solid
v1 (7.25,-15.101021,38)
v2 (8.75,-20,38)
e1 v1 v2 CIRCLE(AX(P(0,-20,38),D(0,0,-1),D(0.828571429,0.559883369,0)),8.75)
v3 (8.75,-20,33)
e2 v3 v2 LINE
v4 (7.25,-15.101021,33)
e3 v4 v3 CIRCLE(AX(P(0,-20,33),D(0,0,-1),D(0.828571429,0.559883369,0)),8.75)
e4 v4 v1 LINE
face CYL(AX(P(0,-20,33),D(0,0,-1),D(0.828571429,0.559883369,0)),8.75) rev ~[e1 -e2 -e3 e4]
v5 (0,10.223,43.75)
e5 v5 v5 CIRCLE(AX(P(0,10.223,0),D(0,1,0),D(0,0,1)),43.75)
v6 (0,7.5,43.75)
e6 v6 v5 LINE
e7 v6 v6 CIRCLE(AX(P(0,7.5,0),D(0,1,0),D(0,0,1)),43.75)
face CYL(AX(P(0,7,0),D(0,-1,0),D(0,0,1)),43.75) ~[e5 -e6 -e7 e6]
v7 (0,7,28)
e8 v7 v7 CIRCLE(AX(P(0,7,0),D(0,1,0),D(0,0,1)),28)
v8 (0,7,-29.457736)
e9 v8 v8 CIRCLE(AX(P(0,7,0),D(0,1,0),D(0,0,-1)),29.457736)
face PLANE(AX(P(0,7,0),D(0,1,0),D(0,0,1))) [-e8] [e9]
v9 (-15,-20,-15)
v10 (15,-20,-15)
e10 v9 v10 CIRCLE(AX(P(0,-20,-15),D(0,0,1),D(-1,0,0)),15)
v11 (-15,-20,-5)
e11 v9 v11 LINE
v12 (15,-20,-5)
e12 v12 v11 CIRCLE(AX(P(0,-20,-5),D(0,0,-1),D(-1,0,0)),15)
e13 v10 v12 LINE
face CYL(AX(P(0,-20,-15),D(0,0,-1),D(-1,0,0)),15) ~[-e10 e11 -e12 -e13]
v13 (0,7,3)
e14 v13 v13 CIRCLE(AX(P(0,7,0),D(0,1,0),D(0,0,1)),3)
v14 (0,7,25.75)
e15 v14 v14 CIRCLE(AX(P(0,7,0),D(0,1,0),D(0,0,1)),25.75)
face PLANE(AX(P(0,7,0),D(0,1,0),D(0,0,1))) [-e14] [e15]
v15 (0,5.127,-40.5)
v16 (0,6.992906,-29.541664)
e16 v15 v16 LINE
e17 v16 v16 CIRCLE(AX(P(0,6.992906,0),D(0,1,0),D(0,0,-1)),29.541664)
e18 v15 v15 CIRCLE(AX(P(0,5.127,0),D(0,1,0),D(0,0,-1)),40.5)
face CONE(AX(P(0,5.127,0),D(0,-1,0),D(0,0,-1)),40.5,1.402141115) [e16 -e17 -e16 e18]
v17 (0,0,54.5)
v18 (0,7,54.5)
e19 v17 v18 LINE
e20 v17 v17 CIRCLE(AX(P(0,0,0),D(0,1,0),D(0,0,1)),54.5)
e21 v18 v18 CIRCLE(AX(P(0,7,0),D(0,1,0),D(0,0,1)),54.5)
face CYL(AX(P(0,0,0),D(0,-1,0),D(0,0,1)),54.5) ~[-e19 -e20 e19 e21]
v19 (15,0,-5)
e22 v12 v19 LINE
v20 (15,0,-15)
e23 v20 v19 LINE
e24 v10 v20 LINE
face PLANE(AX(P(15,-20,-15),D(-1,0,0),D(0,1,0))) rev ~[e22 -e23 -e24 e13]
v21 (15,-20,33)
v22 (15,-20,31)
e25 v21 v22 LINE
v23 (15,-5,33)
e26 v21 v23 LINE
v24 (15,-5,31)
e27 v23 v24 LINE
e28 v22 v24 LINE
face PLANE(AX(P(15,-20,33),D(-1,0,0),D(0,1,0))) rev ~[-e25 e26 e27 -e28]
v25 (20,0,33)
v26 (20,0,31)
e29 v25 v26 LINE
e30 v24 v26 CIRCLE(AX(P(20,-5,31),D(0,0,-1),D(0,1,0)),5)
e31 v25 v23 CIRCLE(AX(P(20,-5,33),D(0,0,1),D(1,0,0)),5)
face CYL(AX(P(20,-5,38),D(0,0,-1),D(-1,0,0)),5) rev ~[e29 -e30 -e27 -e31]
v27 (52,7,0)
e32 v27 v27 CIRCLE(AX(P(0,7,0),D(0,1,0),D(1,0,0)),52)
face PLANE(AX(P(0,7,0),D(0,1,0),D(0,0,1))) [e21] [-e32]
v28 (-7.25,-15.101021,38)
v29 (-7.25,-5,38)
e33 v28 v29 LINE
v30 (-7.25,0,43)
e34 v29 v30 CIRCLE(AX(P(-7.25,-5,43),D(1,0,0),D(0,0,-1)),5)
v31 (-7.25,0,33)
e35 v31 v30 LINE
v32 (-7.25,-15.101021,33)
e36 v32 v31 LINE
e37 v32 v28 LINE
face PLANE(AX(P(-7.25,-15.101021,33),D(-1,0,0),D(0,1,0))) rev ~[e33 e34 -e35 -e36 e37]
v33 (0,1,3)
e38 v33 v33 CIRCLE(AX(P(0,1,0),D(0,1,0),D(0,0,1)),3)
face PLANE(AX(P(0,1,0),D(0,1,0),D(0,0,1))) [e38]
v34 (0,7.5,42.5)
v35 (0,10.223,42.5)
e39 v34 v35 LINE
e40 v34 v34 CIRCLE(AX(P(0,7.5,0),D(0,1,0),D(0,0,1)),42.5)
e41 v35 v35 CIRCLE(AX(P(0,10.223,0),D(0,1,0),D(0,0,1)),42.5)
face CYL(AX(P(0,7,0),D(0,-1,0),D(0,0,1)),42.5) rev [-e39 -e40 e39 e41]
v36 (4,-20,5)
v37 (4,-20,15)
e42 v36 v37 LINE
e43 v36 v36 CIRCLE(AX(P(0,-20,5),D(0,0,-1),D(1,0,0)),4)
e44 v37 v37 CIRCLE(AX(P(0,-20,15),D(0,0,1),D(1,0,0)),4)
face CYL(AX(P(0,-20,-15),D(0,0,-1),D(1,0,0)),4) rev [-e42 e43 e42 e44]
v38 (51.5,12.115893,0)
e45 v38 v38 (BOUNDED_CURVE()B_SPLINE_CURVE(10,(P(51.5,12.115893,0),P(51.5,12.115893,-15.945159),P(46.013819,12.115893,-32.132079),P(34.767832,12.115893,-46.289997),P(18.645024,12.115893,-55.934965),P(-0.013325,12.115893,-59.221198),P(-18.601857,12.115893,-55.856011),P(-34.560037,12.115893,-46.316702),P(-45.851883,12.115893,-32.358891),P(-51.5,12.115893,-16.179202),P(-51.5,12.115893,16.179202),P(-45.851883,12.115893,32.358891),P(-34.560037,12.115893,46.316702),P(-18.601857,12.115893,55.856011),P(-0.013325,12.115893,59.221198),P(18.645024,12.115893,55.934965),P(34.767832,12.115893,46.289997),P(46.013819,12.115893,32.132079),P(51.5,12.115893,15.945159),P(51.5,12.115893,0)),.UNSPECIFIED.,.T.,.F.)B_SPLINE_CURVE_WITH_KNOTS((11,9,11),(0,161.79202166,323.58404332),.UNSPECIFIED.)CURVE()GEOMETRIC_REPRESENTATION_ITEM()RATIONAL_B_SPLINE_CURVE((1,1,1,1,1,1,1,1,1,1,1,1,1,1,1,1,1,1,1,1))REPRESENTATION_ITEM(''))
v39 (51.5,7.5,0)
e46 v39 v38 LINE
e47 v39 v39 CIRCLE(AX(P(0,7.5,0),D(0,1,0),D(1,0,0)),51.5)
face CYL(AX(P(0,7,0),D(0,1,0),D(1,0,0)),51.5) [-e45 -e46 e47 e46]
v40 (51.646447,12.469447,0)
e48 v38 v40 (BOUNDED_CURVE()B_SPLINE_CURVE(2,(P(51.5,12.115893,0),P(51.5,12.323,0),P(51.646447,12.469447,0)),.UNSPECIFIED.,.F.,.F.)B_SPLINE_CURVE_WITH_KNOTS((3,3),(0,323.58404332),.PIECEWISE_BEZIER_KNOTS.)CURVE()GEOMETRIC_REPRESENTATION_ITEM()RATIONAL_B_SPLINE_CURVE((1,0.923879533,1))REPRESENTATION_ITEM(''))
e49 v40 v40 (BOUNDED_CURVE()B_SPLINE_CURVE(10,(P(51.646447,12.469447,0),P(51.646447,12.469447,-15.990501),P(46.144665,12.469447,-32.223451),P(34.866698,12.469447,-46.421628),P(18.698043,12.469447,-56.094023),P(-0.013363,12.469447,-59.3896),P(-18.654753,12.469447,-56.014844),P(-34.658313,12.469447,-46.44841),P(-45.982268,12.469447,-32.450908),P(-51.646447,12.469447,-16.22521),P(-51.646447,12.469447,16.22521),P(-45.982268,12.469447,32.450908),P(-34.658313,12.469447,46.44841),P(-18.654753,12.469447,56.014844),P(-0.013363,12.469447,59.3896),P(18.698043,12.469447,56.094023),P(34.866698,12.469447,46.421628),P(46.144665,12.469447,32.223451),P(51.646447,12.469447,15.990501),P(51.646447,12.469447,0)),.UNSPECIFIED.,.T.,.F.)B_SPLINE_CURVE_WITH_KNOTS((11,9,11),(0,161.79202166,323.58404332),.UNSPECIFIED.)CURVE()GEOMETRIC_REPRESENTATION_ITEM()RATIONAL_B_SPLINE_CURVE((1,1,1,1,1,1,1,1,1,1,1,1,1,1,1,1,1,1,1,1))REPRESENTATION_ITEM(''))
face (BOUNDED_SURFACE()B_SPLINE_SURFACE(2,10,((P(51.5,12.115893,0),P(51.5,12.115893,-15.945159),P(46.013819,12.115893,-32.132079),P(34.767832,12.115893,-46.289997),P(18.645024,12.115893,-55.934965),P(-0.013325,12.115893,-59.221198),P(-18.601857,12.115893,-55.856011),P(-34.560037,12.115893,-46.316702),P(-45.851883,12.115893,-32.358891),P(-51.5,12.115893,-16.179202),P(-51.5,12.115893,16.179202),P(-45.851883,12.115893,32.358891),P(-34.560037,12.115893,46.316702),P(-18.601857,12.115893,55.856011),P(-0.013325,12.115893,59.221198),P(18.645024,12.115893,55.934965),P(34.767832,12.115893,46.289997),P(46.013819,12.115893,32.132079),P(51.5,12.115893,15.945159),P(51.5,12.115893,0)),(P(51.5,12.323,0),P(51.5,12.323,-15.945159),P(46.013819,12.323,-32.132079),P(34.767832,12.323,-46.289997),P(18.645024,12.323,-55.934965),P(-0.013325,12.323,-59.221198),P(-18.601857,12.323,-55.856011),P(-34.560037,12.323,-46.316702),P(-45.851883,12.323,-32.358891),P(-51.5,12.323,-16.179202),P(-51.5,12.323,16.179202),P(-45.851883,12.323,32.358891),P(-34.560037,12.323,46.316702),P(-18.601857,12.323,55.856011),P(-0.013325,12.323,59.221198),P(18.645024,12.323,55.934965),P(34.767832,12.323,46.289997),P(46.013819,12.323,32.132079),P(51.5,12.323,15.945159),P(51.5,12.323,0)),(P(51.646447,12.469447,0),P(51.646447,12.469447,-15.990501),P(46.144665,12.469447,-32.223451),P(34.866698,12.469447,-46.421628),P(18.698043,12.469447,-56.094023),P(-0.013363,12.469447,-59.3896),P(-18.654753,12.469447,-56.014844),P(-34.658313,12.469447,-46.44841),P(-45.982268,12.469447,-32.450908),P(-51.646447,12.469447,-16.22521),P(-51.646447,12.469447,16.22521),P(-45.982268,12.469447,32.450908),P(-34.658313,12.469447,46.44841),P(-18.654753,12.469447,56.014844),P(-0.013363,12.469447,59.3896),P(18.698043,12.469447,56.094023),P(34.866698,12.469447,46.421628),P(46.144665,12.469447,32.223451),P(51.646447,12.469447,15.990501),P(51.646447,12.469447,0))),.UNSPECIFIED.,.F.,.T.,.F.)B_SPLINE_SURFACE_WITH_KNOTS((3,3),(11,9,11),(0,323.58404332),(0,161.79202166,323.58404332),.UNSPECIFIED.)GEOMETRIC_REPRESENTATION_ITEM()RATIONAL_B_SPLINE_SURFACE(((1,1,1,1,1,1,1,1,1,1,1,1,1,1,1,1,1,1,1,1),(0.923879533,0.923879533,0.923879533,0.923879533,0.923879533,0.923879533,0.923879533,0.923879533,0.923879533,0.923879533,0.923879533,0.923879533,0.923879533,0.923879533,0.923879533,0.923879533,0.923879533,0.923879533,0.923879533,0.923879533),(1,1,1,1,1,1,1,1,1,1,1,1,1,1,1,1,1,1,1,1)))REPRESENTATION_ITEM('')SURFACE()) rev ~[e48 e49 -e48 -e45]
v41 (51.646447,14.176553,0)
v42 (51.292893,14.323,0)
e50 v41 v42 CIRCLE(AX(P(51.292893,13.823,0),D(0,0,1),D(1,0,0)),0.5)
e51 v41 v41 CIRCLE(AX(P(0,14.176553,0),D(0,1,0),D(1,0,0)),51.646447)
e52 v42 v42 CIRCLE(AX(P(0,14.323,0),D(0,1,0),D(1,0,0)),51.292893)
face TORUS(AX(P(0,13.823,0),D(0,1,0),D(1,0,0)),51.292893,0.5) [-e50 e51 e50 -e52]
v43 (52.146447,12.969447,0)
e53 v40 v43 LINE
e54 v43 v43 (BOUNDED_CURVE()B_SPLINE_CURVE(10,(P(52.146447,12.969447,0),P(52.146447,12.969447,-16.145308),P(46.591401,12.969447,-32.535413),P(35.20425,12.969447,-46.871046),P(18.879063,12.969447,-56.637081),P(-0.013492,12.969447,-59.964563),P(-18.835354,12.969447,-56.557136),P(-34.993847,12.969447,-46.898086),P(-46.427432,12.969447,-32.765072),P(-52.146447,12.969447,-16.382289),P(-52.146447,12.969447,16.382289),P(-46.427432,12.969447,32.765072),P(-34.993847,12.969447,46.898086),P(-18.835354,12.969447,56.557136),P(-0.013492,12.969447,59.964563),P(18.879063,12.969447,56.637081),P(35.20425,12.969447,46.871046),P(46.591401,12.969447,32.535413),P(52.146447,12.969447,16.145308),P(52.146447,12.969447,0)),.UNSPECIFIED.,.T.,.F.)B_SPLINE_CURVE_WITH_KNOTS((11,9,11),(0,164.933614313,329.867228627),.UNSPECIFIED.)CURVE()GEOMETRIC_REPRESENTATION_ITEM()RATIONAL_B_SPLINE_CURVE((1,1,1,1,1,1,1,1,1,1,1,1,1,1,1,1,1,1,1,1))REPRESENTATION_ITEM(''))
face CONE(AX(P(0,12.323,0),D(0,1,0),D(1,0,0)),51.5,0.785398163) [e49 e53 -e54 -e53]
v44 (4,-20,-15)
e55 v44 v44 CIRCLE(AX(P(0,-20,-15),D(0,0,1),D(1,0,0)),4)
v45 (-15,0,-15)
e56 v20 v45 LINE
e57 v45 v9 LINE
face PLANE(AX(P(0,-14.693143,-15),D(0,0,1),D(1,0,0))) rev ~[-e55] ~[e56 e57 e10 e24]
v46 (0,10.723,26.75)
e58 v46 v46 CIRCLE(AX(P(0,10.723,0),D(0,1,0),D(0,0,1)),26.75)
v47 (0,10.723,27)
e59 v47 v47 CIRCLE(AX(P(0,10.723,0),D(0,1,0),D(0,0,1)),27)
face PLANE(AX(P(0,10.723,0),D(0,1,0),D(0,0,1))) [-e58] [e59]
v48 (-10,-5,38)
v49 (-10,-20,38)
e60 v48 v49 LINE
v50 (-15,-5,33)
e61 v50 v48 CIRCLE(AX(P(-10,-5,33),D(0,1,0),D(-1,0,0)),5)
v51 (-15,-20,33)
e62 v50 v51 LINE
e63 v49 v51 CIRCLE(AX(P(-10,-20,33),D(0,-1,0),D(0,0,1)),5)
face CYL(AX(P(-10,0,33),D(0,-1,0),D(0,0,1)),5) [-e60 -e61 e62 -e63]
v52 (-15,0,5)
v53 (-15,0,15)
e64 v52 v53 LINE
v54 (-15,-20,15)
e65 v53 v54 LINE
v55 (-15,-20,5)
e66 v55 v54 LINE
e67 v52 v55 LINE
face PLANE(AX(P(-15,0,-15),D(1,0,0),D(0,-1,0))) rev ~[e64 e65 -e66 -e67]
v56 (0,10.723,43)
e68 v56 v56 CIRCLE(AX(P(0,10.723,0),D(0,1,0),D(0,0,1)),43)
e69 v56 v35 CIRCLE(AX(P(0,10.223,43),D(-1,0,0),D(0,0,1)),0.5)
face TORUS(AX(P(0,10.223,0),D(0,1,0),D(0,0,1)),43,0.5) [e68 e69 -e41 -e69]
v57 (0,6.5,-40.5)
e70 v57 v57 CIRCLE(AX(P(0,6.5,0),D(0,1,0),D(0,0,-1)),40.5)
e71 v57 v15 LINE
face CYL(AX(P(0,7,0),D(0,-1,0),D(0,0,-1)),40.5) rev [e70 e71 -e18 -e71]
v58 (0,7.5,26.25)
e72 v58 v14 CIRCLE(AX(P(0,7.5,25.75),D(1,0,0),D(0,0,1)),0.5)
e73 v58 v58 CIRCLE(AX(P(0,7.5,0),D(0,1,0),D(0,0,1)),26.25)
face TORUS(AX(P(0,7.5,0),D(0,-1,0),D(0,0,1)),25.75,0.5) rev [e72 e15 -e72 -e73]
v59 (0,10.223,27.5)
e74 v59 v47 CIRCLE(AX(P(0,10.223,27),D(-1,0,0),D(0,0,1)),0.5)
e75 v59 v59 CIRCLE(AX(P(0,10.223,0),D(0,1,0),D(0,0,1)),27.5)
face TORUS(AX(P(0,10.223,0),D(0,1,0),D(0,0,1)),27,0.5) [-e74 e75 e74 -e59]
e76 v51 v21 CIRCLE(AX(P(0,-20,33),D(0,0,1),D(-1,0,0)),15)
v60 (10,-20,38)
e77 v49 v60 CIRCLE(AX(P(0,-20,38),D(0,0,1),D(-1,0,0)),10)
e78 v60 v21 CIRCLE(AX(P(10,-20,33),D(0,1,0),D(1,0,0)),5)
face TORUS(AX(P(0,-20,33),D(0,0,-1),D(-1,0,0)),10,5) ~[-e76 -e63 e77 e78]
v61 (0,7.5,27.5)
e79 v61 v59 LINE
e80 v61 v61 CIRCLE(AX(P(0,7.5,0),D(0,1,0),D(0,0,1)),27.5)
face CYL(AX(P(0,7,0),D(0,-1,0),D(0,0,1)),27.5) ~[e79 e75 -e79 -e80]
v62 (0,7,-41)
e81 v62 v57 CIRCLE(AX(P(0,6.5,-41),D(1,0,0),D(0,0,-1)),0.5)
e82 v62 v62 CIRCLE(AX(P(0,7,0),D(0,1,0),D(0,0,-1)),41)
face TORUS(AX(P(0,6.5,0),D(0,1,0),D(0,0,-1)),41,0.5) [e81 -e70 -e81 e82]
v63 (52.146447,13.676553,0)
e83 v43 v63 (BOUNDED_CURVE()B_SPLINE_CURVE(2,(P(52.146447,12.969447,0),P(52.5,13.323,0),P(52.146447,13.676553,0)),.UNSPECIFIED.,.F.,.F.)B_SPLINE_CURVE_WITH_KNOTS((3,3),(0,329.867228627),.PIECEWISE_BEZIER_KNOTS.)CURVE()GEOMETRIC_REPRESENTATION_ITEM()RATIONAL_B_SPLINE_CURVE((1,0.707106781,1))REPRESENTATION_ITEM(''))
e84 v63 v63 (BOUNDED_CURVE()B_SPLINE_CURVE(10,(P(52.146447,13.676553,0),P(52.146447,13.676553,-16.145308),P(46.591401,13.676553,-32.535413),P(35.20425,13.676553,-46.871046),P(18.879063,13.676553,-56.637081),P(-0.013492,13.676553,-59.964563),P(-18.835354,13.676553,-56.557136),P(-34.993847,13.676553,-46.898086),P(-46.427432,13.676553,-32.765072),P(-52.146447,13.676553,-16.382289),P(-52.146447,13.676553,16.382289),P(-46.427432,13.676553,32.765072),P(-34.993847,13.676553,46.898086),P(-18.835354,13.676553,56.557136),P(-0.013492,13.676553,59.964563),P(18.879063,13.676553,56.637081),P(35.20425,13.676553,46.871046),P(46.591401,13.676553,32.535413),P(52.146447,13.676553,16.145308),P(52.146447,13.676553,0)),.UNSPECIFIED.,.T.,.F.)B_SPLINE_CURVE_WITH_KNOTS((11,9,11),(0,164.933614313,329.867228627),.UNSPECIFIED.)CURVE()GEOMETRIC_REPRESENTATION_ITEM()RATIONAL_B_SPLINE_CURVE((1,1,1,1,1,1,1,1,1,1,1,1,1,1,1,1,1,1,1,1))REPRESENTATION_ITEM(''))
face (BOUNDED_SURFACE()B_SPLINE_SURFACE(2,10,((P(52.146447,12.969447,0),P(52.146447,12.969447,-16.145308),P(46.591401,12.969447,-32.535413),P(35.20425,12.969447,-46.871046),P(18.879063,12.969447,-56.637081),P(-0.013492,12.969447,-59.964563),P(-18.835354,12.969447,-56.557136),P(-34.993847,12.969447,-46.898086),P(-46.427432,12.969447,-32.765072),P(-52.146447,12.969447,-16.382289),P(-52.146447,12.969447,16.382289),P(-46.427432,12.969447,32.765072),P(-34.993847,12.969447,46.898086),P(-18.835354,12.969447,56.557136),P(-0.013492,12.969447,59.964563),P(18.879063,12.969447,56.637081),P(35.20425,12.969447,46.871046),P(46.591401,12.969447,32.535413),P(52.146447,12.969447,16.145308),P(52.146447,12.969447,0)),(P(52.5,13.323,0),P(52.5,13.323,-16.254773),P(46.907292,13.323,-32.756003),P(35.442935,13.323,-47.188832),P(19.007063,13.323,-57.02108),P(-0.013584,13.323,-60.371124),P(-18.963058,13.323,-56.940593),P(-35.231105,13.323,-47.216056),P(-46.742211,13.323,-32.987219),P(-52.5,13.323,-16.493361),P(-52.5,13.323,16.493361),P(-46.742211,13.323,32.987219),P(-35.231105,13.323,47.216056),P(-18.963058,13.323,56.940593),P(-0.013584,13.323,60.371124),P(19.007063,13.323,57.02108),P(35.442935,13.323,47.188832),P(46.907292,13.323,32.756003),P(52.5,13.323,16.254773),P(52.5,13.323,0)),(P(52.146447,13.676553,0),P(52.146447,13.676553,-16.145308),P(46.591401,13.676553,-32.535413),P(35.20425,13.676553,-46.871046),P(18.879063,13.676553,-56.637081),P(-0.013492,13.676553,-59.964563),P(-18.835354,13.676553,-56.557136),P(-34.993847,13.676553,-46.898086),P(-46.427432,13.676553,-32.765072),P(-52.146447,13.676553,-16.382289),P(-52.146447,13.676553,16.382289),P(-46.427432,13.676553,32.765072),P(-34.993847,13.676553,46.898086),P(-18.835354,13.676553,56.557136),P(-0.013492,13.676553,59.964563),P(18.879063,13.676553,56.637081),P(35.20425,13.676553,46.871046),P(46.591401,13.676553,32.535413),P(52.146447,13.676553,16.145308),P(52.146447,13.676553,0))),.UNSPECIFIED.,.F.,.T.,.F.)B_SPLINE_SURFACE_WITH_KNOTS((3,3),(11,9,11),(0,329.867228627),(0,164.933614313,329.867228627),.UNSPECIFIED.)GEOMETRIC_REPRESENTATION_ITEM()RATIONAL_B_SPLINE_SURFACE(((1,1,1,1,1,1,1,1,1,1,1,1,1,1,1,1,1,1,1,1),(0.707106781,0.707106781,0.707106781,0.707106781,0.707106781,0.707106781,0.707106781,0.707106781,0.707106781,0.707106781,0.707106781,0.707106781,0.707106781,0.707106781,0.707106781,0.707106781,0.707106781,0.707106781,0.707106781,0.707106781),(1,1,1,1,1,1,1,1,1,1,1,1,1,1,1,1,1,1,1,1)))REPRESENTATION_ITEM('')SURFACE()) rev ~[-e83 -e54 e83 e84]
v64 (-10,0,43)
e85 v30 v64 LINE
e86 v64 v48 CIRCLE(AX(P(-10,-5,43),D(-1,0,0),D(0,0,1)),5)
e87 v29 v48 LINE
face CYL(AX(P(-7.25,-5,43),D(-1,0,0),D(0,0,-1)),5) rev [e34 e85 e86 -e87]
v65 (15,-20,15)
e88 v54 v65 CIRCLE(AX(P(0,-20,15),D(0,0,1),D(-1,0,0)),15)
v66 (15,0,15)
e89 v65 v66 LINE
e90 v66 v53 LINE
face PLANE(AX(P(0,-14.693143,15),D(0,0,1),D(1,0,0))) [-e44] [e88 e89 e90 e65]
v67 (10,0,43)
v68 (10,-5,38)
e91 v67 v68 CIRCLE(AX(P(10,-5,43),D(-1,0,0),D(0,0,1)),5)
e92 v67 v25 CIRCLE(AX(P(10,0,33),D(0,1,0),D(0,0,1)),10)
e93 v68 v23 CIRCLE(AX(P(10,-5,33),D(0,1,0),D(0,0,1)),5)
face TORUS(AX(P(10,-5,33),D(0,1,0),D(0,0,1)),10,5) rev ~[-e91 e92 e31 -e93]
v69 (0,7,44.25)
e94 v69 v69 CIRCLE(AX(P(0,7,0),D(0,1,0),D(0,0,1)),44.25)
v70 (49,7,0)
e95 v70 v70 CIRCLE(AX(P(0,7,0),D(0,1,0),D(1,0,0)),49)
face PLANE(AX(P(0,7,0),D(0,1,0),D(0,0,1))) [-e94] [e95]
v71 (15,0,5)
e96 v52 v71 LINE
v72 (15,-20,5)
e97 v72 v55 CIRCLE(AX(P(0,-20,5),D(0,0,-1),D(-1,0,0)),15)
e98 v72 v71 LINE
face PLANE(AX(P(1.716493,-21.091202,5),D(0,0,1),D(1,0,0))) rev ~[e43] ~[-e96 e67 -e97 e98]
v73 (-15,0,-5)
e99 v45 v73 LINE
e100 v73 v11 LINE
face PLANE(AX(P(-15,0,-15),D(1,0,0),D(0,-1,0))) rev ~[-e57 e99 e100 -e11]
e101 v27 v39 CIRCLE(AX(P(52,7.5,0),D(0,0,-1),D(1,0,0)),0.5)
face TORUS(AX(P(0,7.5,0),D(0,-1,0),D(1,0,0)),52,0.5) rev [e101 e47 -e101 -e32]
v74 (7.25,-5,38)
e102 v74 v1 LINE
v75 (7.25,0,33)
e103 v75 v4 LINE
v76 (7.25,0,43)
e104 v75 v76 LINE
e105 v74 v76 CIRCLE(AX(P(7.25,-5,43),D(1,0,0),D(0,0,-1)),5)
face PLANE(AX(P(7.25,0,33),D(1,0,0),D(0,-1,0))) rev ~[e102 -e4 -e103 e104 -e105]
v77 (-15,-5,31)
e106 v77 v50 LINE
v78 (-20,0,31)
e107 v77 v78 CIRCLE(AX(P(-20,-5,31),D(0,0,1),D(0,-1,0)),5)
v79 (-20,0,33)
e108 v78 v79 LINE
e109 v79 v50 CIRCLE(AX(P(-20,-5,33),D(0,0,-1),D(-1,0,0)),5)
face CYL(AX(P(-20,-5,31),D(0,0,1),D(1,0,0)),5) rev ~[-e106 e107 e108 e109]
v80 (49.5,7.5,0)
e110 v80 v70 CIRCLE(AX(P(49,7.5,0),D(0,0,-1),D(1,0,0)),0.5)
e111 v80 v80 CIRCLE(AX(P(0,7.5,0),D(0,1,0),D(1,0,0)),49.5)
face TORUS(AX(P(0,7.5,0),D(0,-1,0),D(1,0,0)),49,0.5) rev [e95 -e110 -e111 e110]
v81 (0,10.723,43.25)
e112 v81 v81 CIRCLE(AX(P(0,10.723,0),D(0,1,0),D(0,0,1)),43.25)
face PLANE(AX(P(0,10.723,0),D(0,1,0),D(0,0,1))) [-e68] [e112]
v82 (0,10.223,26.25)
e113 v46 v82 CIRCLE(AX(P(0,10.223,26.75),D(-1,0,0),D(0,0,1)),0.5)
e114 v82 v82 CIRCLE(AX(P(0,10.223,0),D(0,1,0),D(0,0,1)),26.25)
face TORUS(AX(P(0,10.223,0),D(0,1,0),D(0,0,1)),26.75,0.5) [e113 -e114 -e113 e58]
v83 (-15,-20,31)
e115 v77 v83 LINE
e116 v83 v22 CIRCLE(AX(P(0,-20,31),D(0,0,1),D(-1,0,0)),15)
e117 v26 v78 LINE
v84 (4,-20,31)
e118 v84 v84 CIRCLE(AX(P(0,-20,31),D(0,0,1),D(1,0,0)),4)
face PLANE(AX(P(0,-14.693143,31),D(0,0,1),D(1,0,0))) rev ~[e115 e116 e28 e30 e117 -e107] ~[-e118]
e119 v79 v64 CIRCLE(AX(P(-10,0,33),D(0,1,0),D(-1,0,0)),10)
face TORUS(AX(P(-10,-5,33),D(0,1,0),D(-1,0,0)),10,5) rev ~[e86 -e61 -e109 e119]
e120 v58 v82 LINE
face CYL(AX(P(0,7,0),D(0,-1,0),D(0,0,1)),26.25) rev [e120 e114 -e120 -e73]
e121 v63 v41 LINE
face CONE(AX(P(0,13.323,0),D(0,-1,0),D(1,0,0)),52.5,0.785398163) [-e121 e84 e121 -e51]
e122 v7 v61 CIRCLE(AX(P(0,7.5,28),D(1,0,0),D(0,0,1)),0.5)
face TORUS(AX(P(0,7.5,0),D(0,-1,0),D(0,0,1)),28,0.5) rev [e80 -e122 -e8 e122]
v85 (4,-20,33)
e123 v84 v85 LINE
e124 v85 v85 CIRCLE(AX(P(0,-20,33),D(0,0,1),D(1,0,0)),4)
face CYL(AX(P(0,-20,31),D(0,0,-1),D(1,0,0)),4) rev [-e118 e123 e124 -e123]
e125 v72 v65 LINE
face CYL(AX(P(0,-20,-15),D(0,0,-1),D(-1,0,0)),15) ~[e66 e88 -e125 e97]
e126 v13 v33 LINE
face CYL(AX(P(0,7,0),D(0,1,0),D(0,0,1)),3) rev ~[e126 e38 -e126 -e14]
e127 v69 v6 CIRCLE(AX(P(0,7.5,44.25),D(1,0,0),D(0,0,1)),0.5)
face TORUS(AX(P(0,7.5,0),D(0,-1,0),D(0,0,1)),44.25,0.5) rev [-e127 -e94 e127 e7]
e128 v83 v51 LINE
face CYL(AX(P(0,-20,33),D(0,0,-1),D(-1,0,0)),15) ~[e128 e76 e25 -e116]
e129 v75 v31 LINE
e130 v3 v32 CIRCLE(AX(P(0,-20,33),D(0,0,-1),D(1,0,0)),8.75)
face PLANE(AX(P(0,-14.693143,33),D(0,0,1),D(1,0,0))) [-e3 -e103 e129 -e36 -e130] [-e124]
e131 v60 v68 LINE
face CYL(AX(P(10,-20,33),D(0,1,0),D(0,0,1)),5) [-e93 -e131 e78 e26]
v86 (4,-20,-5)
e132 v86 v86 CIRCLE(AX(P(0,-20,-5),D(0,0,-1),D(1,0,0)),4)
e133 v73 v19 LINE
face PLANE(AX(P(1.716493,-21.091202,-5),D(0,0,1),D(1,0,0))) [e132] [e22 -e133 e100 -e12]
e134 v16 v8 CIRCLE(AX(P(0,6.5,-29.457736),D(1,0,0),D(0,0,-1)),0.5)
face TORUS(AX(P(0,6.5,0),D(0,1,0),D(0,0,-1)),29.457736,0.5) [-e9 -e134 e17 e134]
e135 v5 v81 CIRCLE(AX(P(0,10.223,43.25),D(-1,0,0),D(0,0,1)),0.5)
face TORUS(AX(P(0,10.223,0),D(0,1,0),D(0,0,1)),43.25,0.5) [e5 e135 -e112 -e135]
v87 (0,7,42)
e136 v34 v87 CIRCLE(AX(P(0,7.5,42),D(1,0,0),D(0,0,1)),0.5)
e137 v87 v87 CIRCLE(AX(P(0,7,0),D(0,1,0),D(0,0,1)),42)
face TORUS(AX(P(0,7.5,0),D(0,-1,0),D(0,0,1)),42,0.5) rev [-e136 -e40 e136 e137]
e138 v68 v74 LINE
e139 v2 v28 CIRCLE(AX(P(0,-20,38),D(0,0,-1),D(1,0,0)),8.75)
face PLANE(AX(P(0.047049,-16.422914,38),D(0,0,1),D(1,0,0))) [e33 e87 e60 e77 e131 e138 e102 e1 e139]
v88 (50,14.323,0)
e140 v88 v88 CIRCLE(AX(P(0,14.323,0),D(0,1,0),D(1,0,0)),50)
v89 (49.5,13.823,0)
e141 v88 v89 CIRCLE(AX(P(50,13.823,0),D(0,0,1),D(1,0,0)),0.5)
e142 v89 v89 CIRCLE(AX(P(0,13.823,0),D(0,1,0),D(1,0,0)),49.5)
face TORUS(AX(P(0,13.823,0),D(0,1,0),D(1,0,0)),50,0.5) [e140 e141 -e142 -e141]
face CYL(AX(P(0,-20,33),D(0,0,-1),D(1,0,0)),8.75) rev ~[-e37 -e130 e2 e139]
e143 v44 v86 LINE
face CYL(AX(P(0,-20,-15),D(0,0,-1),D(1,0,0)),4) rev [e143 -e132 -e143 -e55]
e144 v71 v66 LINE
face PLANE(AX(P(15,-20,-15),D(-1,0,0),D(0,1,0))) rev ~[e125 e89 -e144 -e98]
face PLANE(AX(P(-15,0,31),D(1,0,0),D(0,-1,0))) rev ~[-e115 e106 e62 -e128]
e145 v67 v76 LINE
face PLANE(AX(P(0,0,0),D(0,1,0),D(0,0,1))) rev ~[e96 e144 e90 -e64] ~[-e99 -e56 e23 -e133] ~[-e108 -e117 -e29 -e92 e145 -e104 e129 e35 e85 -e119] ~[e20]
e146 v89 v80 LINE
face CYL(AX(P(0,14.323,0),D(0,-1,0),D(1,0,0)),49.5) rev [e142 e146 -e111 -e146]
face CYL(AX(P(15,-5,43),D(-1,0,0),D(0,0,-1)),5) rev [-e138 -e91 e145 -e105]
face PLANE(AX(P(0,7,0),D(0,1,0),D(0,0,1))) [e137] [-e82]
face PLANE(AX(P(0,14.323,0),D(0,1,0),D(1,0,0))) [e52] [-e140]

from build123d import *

# Parameters (mm, degrees)
SKETCH2_R                = 54.5
BOSS_EXTRUDE1_DEPTH      = 7
SKETCH4_R                = 43.75
SKETCH4_R_2              = 42.5
SKETCH4_R_3              = 27.5
SKETCH4_R_4              = 26.25
BOSS_EXTRUDE2_DEPTH      = 3.723
FILLET1_R                = 0.5
FILLET2_R                = 0.5
SKETCH6_R                = 3
CUT_EXTRUDE1_DEPTH       = 6
BOSS_EXTRUDE3_DEPTH      = 15
BOSS_EXTRUDE3_DEPTH_BACK = 15
SKETCH7_R                = 4
CUT_EXTRUDE4_DEPTH       = 5
CUT_EXTRUDE4_DEPTH_BACK  = 5
SKETCH10_W               = 38.473117609
SKETCH10_H               = 42.182403499
BOSS_EXTRUDE4_START      = 16
SKETCH11_R               = 4
BOSS_EXTRUDE4_DEPTH      = 2
BOSS_EXTRUDE5_DEPTH      = 5
FILLET3_R                = 5


with BuildPart() as part:
    # Sketch2 → Boss-Extrude1 (new body)
    with BuildSketch(Plane(origin=(0, 0, 0), x_dir=(1, 0, 0), z_dir=(0, 1, 0))):
        with Locations(Location((0, 0, 0), (0, 0, 270))):
            Circle(SKETCH2_R)
    extrude(amount=BOSS_EXTRUDE1_DEPTH)

    # Sketch3 → Cut-Revolve1 (revolve, cut)
    with BuildSketch(Plane.XY, mode=Mode.PRIVATE) as cut_revolve1_sk:
        Polygon((-29.5, 7), (-40.5, 7), (-40.5, 5.127), align=None)
    revolve(cut_revolve1_sk.sketch.rotate(Axis((0, 0, 0), (0, 1, 0)), 270), axis=Axis((0, 0, 0), (0, 1, 0)), mode=Mode.SUBTRACT)

    # Sketch4 → Boss-Extrude2 (add)
    # profile 1 of 2: a face of its own
    with BuildSketch(Plane(origin=(0, 7, 0), x_dir=(1, 0, 0), z_dir=(0, 1, 0))):
        with Locations(Location((0, 0, 0), (0, 0, 270))):
            Circle(SKETCH4_R)
        with Locations(Location((0, 0, 0), (0, 0, 270))):
            Circle(SKETCH4_R_2, mode=Mode.SUBTRACT)
    # profile 2 of 2: a face of its own
    with BuildSketch(Plane(origin=(0, 7, 0), x_dir=(1, 0, 0), z_dir=(0, 1, 0))):
        with Locations(Location((0, 0, 0), (0, 0, 270))):
            Circle(SKETCH4_R_3)
        with Locations(Location((0, 0, 0), (0, 0, 270))):
            Circle(SKETCH4_R_4, mode=Mode.SUBTRACT)
    extrude(amount=BOSS_EXTRUDE2_DEPTH)

    # Fillet1
    fillet1_edges = [part.edges().sort_by_distance(p)[0] for p in [
        (0, 7, -43.75),
        (0, 10.723, -42.5),
        (0, 10.723, -43.75),
        (0, 7, -42.5),
        (0, 7, -27.5),
        (0, 10.723, -26.25),
        (0, 10.723, -27.5),
        (0, 7, -26.25),
        (0, 7, 40.5),
        (0, 7, 29.5),
    ]]
    fillet(fillet1_edges, radius=FILLET1_R)

    # Sketch5 → Revolve1 (revolve)
    with BuildSketch(Plane.XY, mode=Mode.PRIVATE) as revolve1_sk:
        Polygon((-49.5, 7), (-51.5, 7), (-51.5, 12.323), (-52.5, 13.323), (-51.5, 14.323), (-49.5, 14.323), align=None)
    revolve(revolve1_sk.sketch.rotate(Axis((0, 7, 0), (0, 1, 0)), 180), axis=Axis((0, 7, 0), (0, 1, 0)))

    # Fillet2
    fillet2_edges = [part.edges().sort_by_distance(p)[0] for p in [
        (-49.5, 7, 0),
        (-51.5, 7, 0),
        (-51.5, 12.323, 0),
        (-52.5, 13.323, 0),
        (-51.5, 14.323, 0),
        (-49.5, 14.323, 0),
    ]]
    fillet(fillet2_edges, radius=FILLET2_R)

    # Sketch6 → Cut-Extrude1 (cut)
    with BuildSketch(Plane(origin=(0, 7, 0), x_dir=(1, 0, 0), z_dir=(0, 1, 0))):
        with Locations(Location((0, 0, 0), (0, 0, 270))):
            Circle(SKETCH6_R)
    extrude(amount=-CUT_EXTRUDE1_DEPTH, mode=Mode.SUBTRACT)

    # Sketch7 → Boss-Extrude3 (add, two sides: drawn at the far end of the back side and taken through both)
    with BuildSketch(Plane.XY.offset(-BOSS_EXTRUDE3_DEPTH_BACK)):
        with BuildLine():
            Line((15, 0), (-15, 0))
            Line((-15, 0), (-15, -20))
            ThreePointArc((-15, -20), (0, -35), (15, -20))
            Line((15, -20), (15, 0))
        make_face()
        with Locations((0, -20)):
            Circle(SKETCH7_R, mode=Mode.SUBTRACT)
    extrude(amount=BOSS_EXTRUDE3_DEPTH + BOSS_EXTRUDE3_DEPTH_BACK)

    # Sketch10 → Cut-Extrude4 (cut, two sides: drawn at the far end of the back side and taken through both)
    with BuildSketch(Plane.XY.offset(-CUT_EXTRUDE4_DEPTH_BACK)):
        with Locations((1.71649294, -21.09120175)):
            Rectangle(SKETCH10_W, SKETCH10_H)
    extrude(amount=CUT_EXTRUDE4_DEPTH + CUT_EXTRUDE4_DEPTH_BACK, mode=Mode.SUBTRACT)

    # Sketch11 → Boss-Extrude4 (add)
    with BuildSketch(Plane.XY.offset(15).offset(BOSS_EXTRUDE4_START)):
        with BuildLine():
            Line((-15, 0), (-15, -20))
            ThreePointArc((-15, -20), (0, -35), (15, -20))
            Line((15, -20), (15, 0))
            Line((15, 0), (-15, 0))
        make_face()
        with Locations((0, -20)):
            Circle(SKETCH11_R, mode=Mode.SUBTRACT)
    extrude(amount=BOSS_EXTRUDE4_DEPTH)

    # Sketch12 → Boss-Extrude5 (add)
    with BuildSketch(Plane.XY.offset(33)):
        with BuildLine():
            Line((-7.25, -15.101020514), (-7.25, 0))
            Line((-7.25, 0), (-15, 0))
            Line((-15, 0), (-15, -20))
            ThreePointArc((-15, -20), (0, -35), (15, -20))
            Line((15, -20), (15, 0))
            Line((15, 0), (7.25, 0))
            Line((7.25, 0), (7.25, -15.101020514))
            ThreePointArc((7.25, -15.101020514), (8.366600265, -17.438262309), (8.75, -20))
            ThreePointArc((8.75, -20), (-2.561737691, -28.366600265), (-7.25, -15.101020514))
        make_face()
    extrude(amount=BOSS_EXTRUDE5_DEPTH)

    # Fillet3
    fillet3_edges = [part.edges().sort_by_distance(p)[0] for p in [
        (-15, 0, 34.5),
        (15, 0, 34.5),
        (-11.125, 0, 38),
        (-15, -10, 38),
        (0, -35, 38),
        (15, -10, 38),
        (11.125, 0, 38),
    ]]
    fillet(fillet3_edges, radius=FILLET3_R)


solid = part.part
